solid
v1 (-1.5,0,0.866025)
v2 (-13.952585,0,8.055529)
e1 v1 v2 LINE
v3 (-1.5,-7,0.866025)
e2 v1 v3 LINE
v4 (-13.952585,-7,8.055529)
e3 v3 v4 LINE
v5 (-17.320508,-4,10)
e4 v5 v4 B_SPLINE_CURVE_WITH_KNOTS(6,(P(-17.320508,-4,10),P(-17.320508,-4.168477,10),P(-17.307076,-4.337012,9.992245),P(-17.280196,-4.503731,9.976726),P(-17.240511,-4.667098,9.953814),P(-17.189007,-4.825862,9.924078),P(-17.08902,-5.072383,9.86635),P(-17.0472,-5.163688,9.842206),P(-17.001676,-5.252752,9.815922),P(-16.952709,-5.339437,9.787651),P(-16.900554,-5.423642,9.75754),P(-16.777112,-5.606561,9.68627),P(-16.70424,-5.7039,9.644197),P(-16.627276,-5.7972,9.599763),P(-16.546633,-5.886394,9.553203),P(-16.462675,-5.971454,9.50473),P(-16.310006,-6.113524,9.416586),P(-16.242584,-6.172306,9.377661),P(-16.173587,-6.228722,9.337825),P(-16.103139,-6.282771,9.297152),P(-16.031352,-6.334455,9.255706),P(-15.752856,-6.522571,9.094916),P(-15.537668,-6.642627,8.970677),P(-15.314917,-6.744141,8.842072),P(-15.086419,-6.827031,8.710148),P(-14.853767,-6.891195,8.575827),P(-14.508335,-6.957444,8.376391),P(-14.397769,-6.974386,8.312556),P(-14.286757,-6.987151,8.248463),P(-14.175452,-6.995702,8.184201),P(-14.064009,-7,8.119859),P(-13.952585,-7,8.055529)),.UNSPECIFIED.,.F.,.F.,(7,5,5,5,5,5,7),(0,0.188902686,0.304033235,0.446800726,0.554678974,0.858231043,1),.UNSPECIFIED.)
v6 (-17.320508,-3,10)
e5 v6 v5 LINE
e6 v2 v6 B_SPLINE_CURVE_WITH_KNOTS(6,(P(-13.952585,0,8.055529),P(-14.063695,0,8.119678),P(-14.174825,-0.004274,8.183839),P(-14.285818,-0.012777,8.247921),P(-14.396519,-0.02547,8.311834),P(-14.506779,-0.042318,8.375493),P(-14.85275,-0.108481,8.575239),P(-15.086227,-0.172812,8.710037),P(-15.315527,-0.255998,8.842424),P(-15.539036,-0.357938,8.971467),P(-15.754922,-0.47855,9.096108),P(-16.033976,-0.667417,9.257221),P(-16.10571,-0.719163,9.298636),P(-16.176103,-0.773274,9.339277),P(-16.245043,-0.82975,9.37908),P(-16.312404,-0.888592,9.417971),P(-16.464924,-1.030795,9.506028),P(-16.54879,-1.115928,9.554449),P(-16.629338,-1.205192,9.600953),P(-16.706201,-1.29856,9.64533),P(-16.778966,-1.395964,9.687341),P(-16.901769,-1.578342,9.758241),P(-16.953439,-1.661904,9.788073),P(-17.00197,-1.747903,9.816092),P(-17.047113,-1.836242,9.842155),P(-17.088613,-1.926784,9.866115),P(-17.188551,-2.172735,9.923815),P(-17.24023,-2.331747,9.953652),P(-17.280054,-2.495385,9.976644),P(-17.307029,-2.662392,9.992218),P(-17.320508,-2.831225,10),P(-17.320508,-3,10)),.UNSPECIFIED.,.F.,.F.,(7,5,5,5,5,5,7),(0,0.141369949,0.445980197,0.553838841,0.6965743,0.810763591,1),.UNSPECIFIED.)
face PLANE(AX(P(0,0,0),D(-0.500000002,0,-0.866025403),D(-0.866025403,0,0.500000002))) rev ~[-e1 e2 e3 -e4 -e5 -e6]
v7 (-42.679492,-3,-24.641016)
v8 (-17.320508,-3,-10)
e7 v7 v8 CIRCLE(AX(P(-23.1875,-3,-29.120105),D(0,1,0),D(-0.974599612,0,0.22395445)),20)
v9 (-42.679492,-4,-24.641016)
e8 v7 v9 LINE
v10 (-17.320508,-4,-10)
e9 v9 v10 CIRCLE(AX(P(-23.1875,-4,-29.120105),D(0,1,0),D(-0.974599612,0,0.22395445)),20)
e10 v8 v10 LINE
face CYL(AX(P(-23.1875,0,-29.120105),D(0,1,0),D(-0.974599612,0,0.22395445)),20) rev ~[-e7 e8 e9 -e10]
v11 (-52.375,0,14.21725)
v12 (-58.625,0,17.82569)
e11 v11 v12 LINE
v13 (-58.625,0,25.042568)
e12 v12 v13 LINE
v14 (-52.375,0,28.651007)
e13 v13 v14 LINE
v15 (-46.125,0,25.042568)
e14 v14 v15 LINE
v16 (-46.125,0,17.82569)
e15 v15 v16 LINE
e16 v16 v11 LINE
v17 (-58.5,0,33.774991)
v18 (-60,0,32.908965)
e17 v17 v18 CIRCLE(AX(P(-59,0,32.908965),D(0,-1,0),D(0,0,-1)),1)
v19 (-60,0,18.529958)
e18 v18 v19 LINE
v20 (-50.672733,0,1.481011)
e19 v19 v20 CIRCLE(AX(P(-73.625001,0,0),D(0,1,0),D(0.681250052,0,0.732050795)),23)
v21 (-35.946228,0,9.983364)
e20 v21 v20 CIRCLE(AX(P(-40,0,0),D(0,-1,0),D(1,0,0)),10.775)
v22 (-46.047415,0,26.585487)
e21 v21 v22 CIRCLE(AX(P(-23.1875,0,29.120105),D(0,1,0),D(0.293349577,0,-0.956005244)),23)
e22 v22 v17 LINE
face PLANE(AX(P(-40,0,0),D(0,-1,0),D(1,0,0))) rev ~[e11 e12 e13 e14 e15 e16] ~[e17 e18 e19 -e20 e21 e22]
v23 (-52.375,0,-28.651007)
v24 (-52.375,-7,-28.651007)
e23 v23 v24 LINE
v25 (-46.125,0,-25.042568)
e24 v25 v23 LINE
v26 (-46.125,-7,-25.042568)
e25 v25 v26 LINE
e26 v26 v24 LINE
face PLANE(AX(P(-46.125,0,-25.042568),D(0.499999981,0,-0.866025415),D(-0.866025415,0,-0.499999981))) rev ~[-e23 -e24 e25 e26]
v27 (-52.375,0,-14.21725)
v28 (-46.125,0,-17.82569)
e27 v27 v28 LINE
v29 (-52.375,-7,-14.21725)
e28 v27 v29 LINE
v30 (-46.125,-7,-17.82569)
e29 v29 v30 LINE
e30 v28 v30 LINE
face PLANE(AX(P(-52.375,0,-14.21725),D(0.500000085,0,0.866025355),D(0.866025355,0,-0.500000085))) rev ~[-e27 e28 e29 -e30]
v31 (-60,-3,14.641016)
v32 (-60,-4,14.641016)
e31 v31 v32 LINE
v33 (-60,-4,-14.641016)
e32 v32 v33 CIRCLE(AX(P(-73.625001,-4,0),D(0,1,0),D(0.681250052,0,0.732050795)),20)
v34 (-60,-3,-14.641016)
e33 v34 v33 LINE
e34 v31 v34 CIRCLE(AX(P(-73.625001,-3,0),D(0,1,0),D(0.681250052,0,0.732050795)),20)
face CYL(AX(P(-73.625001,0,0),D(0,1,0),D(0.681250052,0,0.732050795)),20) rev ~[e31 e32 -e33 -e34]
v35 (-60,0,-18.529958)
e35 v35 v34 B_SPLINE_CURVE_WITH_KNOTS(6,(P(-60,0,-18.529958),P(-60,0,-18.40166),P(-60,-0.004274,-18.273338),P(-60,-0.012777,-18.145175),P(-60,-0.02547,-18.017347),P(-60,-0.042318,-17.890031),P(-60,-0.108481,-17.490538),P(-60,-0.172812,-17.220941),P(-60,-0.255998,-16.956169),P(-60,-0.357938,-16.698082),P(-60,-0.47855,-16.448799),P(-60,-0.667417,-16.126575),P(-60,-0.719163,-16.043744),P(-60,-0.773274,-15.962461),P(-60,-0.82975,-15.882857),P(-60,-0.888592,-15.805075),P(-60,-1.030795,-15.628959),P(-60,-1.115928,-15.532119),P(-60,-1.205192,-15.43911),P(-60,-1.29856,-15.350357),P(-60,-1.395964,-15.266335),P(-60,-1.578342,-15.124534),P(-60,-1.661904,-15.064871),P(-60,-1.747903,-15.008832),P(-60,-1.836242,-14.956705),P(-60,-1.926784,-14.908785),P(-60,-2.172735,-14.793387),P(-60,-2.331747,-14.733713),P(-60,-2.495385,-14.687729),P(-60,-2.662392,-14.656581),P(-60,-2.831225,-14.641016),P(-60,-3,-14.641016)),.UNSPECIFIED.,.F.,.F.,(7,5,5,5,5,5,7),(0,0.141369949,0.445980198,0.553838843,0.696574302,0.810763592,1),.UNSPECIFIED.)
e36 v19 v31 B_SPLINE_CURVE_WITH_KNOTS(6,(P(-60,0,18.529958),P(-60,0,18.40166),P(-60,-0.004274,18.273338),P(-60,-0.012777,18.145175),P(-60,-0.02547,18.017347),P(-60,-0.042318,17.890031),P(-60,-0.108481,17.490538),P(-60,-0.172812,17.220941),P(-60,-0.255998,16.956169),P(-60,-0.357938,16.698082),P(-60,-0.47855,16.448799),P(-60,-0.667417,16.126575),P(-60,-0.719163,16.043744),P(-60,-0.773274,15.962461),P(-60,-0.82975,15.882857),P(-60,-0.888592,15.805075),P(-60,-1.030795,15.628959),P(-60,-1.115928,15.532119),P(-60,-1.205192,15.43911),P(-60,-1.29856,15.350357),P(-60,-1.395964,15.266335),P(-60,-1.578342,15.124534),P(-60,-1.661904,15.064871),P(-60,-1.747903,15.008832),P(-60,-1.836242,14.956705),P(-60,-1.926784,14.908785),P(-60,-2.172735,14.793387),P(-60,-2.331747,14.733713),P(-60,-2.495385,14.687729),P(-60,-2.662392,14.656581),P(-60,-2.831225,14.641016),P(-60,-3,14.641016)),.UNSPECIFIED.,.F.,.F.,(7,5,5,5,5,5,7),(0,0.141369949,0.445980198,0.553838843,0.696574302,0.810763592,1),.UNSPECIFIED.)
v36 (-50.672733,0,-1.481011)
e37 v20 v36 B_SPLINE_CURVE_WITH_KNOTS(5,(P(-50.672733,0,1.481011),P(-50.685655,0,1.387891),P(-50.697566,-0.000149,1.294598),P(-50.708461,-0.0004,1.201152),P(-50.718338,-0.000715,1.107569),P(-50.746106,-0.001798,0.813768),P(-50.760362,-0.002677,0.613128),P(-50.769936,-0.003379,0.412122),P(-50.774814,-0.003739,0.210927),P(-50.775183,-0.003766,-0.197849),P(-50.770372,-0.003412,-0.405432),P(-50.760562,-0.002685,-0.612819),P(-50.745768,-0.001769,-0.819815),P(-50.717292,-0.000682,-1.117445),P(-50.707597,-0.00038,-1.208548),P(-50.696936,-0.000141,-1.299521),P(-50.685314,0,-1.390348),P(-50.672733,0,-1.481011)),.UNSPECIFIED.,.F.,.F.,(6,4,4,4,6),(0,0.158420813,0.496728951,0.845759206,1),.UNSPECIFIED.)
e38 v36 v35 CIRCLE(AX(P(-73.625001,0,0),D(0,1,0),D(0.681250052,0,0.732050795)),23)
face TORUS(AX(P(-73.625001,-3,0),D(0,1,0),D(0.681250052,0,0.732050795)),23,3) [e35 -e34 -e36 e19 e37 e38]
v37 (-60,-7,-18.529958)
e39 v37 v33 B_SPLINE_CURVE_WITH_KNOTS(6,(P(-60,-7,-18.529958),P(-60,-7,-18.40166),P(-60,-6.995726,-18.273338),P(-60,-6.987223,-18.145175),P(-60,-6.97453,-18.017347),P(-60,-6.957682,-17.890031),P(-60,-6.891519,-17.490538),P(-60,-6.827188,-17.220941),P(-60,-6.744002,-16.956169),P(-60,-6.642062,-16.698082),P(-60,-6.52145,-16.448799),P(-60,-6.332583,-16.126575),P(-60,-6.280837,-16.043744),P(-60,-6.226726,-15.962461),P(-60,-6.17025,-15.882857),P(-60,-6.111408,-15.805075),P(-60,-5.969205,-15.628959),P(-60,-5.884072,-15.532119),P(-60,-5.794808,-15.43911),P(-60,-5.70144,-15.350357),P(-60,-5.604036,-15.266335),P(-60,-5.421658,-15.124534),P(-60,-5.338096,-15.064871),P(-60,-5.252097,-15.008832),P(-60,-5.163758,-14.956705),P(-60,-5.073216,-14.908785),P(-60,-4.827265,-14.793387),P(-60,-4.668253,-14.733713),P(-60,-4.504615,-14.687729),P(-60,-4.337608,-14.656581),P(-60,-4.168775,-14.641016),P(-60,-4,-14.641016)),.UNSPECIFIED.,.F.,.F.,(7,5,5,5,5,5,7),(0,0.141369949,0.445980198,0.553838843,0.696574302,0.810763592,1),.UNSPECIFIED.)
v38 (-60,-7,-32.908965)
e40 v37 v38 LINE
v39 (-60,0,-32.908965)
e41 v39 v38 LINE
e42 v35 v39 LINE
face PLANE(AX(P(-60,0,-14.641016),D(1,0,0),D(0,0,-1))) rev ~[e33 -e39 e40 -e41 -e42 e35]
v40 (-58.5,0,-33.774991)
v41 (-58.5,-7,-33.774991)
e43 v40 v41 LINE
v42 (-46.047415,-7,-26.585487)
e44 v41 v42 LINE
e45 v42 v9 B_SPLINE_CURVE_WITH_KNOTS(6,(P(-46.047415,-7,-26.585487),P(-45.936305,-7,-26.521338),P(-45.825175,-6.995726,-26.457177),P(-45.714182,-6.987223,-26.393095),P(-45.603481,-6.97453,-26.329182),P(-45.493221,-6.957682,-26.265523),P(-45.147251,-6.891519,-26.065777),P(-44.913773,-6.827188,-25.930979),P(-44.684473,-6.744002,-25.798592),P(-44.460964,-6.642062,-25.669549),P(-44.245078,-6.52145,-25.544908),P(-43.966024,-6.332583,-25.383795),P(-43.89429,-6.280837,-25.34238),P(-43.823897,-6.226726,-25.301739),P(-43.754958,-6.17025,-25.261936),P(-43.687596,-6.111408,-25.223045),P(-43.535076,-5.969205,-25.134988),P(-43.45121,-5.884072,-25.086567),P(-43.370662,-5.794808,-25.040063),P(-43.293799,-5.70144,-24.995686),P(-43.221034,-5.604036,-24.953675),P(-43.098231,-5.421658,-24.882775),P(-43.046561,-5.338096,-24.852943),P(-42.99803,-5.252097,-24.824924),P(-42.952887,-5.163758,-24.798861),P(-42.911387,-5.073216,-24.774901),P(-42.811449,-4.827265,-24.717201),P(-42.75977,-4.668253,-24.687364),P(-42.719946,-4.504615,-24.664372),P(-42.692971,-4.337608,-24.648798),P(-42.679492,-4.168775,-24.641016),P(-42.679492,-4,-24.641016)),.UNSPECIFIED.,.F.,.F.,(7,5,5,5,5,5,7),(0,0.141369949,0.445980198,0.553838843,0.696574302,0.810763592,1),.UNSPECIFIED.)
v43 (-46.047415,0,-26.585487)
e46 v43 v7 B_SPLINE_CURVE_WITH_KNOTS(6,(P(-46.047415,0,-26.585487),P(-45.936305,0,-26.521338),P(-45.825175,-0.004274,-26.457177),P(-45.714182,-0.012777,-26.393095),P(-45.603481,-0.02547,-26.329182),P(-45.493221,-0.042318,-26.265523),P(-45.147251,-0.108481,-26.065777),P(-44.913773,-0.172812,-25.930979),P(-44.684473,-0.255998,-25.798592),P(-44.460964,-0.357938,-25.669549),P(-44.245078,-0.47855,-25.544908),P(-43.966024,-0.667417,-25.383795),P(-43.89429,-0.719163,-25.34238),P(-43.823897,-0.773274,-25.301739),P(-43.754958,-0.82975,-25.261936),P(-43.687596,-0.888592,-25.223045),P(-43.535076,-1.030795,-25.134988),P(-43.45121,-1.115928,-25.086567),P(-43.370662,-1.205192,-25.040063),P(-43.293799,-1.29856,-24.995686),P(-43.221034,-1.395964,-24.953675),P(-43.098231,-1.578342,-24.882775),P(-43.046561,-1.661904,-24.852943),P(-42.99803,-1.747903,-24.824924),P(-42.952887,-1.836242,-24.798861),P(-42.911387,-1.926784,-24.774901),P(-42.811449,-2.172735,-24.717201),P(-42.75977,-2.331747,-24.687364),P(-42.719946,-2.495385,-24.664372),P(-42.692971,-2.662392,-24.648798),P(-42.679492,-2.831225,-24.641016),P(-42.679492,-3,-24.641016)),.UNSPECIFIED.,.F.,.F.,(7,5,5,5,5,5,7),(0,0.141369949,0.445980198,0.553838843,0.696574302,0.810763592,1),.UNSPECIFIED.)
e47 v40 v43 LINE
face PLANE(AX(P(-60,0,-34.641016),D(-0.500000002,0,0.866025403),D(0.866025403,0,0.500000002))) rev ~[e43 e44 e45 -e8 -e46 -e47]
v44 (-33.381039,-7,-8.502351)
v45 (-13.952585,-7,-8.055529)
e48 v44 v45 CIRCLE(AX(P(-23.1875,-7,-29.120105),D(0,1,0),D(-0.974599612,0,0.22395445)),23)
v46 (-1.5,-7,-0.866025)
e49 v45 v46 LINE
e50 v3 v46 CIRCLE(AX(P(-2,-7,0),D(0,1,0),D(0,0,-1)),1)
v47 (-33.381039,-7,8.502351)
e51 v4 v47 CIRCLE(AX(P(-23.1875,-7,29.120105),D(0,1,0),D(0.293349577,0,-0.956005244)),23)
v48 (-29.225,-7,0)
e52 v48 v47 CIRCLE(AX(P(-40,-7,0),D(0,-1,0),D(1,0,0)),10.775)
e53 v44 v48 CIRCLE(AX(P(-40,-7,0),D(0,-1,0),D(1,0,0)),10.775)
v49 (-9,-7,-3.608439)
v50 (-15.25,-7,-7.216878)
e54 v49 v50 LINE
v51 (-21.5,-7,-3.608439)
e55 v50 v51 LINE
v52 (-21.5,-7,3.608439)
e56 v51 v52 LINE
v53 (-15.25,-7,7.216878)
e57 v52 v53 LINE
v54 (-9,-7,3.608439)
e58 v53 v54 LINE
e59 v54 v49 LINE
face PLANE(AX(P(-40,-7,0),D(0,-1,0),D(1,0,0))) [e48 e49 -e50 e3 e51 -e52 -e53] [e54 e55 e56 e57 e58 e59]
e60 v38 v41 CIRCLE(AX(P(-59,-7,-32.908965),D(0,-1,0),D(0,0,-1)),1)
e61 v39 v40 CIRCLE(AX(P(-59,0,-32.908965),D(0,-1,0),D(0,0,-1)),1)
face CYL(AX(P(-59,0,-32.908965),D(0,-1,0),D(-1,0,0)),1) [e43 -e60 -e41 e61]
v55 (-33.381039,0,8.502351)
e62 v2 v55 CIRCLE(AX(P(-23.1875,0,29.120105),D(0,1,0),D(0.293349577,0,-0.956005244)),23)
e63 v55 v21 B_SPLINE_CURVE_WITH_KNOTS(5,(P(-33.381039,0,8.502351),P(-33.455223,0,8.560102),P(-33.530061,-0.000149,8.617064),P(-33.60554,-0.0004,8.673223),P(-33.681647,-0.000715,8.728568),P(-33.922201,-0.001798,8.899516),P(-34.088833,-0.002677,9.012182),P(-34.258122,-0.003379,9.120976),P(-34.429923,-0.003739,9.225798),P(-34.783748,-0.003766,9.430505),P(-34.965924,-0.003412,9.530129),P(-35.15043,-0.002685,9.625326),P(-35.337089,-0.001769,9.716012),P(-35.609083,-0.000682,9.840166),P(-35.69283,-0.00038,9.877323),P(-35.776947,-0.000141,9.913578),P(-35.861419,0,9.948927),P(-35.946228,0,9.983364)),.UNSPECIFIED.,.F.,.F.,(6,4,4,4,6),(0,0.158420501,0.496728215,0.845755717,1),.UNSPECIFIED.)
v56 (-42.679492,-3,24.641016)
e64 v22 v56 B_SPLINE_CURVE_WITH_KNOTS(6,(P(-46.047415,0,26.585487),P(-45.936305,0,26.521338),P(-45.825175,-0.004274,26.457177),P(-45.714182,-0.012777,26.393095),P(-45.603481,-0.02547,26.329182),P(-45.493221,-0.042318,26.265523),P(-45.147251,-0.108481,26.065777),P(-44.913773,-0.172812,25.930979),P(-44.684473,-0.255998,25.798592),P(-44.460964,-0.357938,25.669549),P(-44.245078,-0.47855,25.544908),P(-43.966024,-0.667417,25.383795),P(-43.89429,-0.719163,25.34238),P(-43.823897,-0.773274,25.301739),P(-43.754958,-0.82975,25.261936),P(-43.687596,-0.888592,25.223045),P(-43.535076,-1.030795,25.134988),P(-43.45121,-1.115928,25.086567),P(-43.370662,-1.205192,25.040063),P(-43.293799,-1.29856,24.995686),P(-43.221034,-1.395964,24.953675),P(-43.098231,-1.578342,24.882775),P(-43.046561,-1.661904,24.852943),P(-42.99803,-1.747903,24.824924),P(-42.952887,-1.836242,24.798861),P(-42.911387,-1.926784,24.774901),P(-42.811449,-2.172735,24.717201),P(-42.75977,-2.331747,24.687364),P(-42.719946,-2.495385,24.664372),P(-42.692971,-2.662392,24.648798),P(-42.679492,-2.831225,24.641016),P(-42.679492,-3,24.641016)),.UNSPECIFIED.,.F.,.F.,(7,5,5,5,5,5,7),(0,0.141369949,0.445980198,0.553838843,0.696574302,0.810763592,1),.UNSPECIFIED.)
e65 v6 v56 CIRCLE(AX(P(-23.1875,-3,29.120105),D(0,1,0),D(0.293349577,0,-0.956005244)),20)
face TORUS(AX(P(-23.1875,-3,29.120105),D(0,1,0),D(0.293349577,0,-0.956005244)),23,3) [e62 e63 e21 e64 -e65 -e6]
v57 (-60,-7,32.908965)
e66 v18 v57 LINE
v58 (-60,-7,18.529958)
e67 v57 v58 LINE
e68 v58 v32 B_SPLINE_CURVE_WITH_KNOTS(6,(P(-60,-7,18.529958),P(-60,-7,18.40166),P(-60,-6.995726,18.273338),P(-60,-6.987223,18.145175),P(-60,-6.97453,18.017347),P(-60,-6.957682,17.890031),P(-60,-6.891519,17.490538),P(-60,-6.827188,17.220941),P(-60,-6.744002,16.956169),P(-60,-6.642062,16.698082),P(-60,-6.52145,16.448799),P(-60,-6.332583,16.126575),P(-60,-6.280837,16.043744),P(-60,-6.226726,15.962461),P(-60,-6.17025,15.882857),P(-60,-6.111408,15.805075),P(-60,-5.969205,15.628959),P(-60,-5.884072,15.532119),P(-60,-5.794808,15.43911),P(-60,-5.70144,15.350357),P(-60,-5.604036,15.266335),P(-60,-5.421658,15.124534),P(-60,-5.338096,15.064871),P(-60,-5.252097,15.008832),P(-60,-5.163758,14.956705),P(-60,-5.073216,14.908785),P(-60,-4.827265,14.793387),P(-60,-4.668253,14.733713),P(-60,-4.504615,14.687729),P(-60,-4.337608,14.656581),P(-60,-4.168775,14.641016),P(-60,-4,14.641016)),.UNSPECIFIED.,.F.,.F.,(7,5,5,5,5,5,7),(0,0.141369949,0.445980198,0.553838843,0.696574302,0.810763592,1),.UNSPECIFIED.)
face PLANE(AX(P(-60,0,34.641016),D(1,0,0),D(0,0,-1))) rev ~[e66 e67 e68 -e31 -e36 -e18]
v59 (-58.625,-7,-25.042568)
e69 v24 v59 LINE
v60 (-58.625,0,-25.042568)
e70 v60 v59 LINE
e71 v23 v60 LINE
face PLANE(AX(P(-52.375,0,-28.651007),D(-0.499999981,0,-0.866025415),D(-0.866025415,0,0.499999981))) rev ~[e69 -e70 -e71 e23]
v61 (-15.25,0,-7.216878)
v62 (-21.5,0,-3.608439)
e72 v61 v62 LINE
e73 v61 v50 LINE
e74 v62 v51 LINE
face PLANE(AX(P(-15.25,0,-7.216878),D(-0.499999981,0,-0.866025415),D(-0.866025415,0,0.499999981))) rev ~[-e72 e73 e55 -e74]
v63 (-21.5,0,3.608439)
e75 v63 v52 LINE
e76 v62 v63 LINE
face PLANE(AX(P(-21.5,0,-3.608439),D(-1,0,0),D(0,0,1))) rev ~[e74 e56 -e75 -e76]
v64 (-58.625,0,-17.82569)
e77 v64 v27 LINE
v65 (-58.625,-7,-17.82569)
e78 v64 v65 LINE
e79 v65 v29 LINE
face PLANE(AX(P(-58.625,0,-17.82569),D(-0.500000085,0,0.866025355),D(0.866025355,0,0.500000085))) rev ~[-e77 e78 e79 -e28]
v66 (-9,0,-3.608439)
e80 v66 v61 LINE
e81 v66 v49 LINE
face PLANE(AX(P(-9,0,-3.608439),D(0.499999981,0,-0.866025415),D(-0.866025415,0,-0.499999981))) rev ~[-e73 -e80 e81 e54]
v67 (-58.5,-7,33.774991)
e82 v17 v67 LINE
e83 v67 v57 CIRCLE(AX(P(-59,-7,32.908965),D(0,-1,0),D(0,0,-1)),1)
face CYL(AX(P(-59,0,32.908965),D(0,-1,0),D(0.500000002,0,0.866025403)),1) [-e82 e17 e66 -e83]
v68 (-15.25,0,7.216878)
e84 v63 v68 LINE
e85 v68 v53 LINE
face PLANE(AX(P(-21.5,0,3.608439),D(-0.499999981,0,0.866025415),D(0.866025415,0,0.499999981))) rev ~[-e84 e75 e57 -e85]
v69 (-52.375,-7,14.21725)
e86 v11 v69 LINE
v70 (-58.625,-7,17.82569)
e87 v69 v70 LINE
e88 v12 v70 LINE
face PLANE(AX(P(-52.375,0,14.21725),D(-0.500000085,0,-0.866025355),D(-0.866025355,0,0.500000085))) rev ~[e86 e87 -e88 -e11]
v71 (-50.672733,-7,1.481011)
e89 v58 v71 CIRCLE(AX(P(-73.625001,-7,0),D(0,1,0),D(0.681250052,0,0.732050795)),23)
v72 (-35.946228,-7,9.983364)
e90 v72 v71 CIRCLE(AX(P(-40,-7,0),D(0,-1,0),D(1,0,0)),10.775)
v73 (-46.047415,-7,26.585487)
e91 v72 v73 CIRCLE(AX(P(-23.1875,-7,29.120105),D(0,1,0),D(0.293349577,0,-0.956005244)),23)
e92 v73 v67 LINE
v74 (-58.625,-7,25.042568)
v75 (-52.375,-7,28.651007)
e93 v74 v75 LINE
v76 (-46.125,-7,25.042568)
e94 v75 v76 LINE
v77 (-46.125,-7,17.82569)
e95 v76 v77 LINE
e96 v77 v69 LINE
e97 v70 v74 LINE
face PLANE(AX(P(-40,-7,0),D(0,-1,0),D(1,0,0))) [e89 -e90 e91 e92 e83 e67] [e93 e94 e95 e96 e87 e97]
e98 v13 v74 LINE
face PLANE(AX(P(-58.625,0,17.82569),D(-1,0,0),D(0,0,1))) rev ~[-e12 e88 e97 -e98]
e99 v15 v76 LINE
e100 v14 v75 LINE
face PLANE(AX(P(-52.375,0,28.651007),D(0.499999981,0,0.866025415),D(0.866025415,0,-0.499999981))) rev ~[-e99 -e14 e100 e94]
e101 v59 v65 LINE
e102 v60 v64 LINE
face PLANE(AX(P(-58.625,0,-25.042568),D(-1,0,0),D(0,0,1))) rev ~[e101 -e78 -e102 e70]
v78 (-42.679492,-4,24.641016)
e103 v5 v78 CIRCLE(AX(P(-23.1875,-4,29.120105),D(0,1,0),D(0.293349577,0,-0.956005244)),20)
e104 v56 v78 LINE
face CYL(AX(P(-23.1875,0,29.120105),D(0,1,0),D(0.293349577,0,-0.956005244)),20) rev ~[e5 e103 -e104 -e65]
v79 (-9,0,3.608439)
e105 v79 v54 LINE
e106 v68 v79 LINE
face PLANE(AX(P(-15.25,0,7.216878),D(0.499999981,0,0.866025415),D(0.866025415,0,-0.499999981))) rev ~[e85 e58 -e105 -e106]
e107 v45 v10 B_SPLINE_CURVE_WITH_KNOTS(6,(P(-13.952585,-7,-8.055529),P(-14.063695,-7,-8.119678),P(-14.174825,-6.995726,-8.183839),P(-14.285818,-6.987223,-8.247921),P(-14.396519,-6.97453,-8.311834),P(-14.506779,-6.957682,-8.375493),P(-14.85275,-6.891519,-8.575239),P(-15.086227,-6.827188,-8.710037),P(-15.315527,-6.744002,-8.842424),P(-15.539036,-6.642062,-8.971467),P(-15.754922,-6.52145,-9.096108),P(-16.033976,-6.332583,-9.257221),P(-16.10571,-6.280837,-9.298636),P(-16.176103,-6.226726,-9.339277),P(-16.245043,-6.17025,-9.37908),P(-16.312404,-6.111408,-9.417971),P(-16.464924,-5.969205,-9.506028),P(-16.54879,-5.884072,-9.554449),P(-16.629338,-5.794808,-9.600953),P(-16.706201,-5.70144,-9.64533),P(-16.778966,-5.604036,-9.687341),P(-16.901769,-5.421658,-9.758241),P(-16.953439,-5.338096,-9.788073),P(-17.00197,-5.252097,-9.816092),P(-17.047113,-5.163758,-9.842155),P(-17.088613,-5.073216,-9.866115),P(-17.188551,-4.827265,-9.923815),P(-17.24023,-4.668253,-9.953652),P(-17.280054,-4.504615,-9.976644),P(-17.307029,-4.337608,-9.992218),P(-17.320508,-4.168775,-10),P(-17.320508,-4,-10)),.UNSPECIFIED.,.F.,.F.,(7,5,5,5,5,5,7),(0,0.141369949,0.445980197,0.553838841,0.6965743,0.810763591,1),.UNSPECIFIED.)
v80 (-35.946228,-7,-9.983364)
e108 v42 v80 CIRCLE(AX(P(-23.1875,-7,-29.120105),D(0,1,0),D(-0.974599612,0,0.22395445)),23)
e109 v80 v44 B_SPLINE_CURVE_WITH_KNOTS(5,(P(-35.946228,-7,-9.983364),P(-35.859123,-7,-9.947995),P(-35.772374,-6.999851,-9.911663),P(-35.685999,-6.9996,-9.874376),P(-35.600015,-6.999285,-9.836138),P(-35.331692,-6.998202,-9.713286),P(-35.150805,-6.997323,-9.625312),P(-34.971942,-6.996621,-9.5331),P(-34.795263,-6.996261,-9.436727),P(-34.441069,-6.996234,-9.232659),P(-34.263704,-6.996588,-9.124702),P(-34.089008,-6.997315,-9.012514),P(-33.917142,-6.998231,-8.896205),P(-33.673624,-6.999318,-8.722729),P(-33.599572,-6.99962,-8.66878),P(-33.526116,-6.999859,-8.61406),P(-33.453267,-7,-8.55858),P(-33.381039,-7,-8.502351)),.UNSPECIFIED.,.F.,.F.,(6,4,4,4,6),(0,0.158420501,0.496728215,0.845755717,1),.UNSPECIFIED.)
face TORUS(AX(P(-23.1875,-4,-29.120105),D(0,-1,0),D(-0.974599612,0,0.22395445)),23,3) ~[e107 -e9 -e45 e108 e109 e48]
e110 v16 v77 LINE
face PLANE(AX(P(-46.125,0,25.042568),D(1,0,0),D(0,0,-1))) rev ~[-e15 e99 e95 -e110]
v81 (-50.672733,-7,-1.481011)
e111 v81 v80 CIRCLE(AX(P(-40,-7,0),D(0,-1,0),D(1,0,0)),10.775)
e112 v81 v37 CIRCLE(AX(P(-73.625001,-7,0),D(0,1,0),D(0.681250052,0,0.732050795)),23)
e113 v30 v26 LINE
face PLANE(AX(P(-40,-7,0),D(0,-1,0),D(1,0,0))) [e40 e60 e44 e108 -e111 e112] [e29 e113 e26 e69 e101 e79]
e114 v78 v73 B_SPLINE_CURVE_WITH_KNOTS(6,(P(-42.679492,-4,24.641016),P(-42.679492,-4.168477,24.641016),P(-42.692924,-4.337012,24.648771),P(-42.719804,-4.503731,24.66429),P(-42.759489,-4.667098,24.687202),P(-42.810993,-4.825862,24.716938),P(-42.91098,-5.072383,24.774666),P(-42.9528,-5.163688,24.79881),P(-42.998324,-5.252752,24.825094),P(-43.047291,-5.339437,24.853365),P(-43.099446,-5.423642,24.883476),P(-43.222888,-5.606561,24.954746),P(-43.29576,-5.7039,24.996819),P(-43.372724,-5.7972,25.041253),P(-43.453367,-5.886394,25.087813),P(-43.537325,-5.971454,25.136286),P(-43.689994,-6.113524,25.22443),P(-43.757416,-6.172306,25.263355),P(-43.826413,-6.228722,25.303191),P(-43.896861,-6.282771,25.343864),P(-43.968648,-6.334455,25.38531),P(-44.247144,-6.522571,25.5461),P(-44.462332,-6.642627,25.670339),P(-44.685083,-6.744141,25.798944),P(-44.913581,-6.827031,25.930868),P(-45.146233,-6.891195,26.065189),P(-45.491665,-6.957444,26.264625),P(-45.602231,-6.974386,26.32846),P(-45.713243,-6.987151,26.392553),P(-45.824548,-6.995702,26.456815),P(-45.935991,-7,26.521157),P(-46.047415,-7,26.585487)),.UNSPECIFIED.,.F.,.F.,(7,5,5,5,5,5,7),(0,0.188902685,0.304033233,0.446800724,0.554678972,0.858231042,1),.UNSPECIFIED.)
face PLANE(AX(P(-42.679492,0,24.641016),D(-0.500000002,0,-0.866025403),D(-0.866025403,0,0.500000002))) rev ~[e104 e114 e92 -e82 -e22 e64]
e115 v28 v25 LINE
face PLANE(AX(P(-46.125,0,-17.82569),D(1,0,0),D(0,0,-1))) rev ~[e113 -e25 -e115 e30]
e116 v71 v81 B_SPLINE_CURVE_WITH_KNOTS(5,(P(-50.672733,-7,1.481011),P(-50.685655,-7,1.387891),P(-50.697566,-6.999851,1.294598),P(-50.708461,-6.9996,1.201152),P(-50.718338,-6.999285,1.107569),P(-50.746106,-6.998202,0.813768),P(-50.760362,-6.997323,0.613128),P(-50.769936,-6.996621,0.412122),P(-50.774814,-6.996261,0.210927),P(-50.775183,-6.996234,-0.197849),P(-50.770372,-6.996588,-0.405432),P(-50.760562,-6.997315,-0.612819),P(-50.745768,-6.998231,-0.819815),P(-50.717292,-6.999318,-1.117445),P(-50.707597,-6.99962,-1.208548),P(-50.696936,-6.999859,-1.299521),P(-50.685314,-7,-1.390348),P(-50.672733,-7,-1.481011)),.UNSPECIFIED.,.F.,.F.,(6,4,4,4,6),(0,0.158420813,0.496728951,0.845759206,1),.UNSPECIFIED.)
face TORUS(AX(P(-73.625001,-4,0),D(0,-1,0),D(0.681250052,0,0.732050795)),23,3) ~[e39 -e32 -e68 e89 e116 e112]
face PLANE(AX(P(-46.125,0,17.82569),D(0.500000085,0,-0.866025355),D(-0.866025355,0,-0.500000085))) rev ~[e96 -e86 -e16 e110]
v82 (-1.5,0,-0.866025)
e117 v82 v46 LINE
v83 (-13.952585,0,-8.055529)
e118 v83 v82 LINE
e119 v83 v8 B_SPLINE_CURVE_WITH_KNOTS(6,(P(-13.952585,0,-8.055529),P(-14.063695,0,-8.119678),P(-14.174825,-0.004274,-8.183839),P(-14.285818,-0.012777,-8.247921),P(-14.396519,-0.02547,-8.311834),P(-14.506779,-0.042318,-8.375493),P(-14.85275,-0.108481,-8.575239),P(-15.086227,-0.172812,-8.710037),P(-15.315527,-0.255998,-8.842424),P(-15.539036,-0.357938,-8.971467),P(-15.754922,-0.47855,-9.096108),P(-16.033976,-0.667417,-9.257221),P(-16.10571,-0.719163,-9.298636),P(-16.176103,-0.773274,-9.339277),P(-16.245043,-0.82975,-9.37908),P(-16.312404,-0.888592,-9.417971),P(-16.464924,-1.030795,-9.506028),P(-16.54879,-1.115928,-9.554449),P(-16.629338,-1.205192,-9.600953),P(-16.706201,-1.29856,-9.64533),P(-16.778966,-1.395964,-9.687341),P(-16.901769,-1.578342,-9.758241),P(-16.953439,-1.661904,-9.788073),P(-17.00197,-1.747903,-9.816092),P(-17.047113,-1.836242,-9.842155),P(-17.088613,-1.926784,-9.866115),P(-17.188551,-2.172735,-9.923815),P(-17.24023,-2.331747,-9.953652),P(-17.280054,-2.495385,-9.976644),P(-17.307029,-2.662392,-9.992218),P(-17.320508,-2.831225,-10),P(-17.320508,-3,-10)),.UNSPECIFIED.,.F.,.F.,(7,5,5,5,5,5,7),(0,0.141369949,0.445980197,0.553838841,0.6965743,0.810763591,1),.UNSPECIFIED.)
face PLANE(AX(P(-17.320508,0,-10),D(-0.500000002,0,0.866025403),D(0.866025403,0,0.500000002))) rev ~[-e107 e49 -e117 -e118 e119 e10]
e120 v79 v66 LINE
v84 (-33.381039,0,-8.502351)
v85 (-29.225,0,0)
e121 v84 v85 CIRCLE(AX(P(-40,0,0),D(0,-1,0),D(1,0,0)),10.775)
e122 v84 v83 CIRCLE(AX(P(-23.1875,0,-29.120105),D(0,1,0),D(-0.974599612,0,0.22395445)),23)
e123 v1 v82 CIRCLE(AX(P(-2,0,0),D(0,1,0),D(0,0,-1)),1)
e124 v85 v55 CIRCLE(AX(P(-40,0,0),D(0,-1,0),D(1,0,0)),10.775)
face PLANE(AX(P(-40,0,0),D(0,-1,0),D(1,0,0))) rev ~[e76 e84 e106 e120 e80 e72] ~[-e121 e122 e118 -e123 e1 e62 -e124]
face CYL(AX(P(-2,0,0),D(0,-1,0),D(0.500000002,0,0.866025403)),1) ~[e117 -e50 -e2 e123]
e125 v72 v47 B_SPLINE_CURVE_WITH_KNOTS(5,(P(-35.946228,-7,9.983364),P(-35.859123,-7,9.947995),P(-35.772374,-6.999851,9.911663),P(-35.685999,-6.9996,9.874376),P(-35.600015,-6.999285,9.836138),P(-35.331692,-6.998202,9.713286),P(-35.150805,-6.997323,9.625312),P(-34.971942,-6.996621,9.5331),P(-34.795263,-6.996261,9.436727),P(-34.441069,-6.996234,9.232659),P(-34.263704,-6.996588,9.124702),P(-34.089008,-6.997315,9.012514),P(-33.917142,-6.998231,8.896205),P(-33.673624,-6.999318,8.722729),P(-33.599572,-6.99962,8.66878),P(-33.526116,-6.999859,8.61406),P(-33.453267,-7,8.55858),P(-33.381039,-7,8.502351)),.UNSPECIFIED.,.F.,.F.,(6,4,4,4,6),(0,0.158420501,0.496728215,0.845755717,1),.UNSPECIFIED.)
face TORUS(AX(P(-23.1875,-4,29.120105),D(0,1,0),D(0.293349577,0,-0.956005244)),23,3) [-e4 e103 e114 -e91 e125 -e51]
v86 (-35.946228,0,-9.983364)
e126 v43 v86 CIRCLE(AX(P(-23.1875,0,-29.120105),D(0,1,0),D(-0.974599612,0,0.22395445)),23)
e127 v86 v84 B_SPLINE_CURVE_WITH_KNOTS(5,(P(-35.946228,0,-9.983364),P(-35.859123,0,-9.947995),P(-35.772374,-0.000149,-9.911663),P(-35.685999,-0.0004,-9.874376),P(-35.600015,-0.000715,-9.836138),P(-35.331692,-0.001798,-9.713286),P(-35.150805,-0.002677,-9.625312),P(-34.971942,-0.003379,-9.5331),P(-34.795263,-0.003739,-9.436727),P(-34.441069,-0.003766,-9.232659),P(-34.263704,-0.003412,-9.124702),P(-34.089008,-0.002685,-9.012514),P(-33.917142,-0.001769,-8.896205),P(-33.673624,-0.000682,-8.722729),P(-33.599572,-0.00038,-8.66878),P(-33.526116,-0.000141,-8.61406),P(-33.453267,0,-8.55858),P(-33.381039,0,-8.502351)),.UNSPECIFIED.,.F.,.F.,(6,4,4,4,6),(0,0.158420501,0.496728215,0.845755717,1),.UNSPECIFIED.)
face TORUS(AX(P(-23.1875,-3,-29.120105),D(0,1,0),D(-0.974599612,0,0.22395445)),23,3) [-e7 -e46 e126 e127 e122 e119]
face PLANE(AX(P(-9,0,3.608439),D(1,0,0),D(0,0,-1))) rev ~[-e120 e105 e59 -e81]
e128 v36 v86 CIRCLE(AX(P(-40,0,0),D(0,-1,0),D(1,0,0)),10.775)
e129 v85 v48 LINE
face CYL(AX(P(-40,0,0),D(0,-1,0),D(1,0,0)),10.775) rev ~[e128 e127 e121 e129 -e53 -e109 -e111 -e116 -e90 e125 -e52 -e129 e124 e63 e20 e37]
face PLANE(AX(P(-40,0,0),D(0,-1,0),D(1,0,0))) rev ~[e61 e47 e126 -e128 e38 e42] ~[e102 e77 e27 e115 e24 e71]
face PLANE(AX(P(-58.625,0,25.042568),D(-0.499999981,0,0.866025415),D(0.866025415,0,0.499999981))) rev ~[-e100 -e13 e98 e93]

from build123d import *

# Parameters (mm, degrees)
F1_DEPTH = 7
F2_R     = 1
F3_R     = 3
F4_R     = 10.775
F5_DEPTH = 12.5


with BuildPart() as f1:
    # F0 (on Front) → F1 (new body)
    with BuildSketch(Plane.XZ):
        with BuildLine():
            Line((-42.679492, 24.641016), (-60, 34.641016))
            Line((-60, 34.641016), (-60, 14.641016))
            ThreePointArc((-60, 14.641016), (-53.625001, 0), (-60, -14.641016))
            Line((-60, -14.641016), (-60, -34.641016))
            Line((-60, -34.641016), (-42.679492, -24.641016))
            ThreePointArc((-42.679492, -24.641016), (-33.1875, -11.799597), (-17.320508, -10))
            Line((-17.320508, -10), (0, 0))
            Line((0, 0), (-17.320508, 10))
            ThreePointArc((-17.320508, 10), (-33.1875, 11.799597), (-42.679492, 24.641016))
        make_face()
        Polygon((-46.125, -25.042568), (-52.375, -28.651007), (-58.625, -25.042568), (-58.625, -17.82569), (-52.375, -14.21725), (-46.125, -17.82569), align=None, mode=Mode.SUBTRACT)
        Polygon((-46.125, 17.82569), (-52.375, 14.21725), (-58.625, 17.82569), (-58.625, 25.042568), (-52.375, 28.651007), (-46.125, 25.042568), align=None, mode=Mode.SUBTRACT)
        Polygon((-15.25, -7.216878), (-21.5, -3.608439), (-21.5, 3.608439), (-15.25, 7.216878), (-9, 3.608439), (-9, -3.608439), align=None, mode=Mode.SUBTRACT)
    extrude(amount=F1_DEPTH)

    # F2
    f2_edges = [f1.edges().sort_by_distance(p)[0] for p in [
        (-60, -3.5, 34.641016),
        (-60, -3.5, -34.641016),
        (0, -3.5, 0),
    ]]
    fillet(f2_edges, radius=F2_R)

    # F3
    f3_edges = [f1.edges().sort_by_distance(p)[0] for p in [
        (-53.625001, 0, 0),
        (-53.625001, -7, 0),
        (-33.1875, -7, 11.799597),
        (-33.1875, -7, -11.799597),
        (-33.1875, 0, -11.799597),
        (-33.1875, 0, 11.799597),
    ]]
    fillet(f3_edges, radius=F3_R)

    # F4 (on Front) → F5 (cut, symmetric)
    with BuildSketch(Plane.XZ):
        with Locations((-40, 0)):
            Circle(F4_R)
    extrude(amount=F5_DEPTH, both=True, mode=Mode.SUBTRACT)


solid = f1.part
